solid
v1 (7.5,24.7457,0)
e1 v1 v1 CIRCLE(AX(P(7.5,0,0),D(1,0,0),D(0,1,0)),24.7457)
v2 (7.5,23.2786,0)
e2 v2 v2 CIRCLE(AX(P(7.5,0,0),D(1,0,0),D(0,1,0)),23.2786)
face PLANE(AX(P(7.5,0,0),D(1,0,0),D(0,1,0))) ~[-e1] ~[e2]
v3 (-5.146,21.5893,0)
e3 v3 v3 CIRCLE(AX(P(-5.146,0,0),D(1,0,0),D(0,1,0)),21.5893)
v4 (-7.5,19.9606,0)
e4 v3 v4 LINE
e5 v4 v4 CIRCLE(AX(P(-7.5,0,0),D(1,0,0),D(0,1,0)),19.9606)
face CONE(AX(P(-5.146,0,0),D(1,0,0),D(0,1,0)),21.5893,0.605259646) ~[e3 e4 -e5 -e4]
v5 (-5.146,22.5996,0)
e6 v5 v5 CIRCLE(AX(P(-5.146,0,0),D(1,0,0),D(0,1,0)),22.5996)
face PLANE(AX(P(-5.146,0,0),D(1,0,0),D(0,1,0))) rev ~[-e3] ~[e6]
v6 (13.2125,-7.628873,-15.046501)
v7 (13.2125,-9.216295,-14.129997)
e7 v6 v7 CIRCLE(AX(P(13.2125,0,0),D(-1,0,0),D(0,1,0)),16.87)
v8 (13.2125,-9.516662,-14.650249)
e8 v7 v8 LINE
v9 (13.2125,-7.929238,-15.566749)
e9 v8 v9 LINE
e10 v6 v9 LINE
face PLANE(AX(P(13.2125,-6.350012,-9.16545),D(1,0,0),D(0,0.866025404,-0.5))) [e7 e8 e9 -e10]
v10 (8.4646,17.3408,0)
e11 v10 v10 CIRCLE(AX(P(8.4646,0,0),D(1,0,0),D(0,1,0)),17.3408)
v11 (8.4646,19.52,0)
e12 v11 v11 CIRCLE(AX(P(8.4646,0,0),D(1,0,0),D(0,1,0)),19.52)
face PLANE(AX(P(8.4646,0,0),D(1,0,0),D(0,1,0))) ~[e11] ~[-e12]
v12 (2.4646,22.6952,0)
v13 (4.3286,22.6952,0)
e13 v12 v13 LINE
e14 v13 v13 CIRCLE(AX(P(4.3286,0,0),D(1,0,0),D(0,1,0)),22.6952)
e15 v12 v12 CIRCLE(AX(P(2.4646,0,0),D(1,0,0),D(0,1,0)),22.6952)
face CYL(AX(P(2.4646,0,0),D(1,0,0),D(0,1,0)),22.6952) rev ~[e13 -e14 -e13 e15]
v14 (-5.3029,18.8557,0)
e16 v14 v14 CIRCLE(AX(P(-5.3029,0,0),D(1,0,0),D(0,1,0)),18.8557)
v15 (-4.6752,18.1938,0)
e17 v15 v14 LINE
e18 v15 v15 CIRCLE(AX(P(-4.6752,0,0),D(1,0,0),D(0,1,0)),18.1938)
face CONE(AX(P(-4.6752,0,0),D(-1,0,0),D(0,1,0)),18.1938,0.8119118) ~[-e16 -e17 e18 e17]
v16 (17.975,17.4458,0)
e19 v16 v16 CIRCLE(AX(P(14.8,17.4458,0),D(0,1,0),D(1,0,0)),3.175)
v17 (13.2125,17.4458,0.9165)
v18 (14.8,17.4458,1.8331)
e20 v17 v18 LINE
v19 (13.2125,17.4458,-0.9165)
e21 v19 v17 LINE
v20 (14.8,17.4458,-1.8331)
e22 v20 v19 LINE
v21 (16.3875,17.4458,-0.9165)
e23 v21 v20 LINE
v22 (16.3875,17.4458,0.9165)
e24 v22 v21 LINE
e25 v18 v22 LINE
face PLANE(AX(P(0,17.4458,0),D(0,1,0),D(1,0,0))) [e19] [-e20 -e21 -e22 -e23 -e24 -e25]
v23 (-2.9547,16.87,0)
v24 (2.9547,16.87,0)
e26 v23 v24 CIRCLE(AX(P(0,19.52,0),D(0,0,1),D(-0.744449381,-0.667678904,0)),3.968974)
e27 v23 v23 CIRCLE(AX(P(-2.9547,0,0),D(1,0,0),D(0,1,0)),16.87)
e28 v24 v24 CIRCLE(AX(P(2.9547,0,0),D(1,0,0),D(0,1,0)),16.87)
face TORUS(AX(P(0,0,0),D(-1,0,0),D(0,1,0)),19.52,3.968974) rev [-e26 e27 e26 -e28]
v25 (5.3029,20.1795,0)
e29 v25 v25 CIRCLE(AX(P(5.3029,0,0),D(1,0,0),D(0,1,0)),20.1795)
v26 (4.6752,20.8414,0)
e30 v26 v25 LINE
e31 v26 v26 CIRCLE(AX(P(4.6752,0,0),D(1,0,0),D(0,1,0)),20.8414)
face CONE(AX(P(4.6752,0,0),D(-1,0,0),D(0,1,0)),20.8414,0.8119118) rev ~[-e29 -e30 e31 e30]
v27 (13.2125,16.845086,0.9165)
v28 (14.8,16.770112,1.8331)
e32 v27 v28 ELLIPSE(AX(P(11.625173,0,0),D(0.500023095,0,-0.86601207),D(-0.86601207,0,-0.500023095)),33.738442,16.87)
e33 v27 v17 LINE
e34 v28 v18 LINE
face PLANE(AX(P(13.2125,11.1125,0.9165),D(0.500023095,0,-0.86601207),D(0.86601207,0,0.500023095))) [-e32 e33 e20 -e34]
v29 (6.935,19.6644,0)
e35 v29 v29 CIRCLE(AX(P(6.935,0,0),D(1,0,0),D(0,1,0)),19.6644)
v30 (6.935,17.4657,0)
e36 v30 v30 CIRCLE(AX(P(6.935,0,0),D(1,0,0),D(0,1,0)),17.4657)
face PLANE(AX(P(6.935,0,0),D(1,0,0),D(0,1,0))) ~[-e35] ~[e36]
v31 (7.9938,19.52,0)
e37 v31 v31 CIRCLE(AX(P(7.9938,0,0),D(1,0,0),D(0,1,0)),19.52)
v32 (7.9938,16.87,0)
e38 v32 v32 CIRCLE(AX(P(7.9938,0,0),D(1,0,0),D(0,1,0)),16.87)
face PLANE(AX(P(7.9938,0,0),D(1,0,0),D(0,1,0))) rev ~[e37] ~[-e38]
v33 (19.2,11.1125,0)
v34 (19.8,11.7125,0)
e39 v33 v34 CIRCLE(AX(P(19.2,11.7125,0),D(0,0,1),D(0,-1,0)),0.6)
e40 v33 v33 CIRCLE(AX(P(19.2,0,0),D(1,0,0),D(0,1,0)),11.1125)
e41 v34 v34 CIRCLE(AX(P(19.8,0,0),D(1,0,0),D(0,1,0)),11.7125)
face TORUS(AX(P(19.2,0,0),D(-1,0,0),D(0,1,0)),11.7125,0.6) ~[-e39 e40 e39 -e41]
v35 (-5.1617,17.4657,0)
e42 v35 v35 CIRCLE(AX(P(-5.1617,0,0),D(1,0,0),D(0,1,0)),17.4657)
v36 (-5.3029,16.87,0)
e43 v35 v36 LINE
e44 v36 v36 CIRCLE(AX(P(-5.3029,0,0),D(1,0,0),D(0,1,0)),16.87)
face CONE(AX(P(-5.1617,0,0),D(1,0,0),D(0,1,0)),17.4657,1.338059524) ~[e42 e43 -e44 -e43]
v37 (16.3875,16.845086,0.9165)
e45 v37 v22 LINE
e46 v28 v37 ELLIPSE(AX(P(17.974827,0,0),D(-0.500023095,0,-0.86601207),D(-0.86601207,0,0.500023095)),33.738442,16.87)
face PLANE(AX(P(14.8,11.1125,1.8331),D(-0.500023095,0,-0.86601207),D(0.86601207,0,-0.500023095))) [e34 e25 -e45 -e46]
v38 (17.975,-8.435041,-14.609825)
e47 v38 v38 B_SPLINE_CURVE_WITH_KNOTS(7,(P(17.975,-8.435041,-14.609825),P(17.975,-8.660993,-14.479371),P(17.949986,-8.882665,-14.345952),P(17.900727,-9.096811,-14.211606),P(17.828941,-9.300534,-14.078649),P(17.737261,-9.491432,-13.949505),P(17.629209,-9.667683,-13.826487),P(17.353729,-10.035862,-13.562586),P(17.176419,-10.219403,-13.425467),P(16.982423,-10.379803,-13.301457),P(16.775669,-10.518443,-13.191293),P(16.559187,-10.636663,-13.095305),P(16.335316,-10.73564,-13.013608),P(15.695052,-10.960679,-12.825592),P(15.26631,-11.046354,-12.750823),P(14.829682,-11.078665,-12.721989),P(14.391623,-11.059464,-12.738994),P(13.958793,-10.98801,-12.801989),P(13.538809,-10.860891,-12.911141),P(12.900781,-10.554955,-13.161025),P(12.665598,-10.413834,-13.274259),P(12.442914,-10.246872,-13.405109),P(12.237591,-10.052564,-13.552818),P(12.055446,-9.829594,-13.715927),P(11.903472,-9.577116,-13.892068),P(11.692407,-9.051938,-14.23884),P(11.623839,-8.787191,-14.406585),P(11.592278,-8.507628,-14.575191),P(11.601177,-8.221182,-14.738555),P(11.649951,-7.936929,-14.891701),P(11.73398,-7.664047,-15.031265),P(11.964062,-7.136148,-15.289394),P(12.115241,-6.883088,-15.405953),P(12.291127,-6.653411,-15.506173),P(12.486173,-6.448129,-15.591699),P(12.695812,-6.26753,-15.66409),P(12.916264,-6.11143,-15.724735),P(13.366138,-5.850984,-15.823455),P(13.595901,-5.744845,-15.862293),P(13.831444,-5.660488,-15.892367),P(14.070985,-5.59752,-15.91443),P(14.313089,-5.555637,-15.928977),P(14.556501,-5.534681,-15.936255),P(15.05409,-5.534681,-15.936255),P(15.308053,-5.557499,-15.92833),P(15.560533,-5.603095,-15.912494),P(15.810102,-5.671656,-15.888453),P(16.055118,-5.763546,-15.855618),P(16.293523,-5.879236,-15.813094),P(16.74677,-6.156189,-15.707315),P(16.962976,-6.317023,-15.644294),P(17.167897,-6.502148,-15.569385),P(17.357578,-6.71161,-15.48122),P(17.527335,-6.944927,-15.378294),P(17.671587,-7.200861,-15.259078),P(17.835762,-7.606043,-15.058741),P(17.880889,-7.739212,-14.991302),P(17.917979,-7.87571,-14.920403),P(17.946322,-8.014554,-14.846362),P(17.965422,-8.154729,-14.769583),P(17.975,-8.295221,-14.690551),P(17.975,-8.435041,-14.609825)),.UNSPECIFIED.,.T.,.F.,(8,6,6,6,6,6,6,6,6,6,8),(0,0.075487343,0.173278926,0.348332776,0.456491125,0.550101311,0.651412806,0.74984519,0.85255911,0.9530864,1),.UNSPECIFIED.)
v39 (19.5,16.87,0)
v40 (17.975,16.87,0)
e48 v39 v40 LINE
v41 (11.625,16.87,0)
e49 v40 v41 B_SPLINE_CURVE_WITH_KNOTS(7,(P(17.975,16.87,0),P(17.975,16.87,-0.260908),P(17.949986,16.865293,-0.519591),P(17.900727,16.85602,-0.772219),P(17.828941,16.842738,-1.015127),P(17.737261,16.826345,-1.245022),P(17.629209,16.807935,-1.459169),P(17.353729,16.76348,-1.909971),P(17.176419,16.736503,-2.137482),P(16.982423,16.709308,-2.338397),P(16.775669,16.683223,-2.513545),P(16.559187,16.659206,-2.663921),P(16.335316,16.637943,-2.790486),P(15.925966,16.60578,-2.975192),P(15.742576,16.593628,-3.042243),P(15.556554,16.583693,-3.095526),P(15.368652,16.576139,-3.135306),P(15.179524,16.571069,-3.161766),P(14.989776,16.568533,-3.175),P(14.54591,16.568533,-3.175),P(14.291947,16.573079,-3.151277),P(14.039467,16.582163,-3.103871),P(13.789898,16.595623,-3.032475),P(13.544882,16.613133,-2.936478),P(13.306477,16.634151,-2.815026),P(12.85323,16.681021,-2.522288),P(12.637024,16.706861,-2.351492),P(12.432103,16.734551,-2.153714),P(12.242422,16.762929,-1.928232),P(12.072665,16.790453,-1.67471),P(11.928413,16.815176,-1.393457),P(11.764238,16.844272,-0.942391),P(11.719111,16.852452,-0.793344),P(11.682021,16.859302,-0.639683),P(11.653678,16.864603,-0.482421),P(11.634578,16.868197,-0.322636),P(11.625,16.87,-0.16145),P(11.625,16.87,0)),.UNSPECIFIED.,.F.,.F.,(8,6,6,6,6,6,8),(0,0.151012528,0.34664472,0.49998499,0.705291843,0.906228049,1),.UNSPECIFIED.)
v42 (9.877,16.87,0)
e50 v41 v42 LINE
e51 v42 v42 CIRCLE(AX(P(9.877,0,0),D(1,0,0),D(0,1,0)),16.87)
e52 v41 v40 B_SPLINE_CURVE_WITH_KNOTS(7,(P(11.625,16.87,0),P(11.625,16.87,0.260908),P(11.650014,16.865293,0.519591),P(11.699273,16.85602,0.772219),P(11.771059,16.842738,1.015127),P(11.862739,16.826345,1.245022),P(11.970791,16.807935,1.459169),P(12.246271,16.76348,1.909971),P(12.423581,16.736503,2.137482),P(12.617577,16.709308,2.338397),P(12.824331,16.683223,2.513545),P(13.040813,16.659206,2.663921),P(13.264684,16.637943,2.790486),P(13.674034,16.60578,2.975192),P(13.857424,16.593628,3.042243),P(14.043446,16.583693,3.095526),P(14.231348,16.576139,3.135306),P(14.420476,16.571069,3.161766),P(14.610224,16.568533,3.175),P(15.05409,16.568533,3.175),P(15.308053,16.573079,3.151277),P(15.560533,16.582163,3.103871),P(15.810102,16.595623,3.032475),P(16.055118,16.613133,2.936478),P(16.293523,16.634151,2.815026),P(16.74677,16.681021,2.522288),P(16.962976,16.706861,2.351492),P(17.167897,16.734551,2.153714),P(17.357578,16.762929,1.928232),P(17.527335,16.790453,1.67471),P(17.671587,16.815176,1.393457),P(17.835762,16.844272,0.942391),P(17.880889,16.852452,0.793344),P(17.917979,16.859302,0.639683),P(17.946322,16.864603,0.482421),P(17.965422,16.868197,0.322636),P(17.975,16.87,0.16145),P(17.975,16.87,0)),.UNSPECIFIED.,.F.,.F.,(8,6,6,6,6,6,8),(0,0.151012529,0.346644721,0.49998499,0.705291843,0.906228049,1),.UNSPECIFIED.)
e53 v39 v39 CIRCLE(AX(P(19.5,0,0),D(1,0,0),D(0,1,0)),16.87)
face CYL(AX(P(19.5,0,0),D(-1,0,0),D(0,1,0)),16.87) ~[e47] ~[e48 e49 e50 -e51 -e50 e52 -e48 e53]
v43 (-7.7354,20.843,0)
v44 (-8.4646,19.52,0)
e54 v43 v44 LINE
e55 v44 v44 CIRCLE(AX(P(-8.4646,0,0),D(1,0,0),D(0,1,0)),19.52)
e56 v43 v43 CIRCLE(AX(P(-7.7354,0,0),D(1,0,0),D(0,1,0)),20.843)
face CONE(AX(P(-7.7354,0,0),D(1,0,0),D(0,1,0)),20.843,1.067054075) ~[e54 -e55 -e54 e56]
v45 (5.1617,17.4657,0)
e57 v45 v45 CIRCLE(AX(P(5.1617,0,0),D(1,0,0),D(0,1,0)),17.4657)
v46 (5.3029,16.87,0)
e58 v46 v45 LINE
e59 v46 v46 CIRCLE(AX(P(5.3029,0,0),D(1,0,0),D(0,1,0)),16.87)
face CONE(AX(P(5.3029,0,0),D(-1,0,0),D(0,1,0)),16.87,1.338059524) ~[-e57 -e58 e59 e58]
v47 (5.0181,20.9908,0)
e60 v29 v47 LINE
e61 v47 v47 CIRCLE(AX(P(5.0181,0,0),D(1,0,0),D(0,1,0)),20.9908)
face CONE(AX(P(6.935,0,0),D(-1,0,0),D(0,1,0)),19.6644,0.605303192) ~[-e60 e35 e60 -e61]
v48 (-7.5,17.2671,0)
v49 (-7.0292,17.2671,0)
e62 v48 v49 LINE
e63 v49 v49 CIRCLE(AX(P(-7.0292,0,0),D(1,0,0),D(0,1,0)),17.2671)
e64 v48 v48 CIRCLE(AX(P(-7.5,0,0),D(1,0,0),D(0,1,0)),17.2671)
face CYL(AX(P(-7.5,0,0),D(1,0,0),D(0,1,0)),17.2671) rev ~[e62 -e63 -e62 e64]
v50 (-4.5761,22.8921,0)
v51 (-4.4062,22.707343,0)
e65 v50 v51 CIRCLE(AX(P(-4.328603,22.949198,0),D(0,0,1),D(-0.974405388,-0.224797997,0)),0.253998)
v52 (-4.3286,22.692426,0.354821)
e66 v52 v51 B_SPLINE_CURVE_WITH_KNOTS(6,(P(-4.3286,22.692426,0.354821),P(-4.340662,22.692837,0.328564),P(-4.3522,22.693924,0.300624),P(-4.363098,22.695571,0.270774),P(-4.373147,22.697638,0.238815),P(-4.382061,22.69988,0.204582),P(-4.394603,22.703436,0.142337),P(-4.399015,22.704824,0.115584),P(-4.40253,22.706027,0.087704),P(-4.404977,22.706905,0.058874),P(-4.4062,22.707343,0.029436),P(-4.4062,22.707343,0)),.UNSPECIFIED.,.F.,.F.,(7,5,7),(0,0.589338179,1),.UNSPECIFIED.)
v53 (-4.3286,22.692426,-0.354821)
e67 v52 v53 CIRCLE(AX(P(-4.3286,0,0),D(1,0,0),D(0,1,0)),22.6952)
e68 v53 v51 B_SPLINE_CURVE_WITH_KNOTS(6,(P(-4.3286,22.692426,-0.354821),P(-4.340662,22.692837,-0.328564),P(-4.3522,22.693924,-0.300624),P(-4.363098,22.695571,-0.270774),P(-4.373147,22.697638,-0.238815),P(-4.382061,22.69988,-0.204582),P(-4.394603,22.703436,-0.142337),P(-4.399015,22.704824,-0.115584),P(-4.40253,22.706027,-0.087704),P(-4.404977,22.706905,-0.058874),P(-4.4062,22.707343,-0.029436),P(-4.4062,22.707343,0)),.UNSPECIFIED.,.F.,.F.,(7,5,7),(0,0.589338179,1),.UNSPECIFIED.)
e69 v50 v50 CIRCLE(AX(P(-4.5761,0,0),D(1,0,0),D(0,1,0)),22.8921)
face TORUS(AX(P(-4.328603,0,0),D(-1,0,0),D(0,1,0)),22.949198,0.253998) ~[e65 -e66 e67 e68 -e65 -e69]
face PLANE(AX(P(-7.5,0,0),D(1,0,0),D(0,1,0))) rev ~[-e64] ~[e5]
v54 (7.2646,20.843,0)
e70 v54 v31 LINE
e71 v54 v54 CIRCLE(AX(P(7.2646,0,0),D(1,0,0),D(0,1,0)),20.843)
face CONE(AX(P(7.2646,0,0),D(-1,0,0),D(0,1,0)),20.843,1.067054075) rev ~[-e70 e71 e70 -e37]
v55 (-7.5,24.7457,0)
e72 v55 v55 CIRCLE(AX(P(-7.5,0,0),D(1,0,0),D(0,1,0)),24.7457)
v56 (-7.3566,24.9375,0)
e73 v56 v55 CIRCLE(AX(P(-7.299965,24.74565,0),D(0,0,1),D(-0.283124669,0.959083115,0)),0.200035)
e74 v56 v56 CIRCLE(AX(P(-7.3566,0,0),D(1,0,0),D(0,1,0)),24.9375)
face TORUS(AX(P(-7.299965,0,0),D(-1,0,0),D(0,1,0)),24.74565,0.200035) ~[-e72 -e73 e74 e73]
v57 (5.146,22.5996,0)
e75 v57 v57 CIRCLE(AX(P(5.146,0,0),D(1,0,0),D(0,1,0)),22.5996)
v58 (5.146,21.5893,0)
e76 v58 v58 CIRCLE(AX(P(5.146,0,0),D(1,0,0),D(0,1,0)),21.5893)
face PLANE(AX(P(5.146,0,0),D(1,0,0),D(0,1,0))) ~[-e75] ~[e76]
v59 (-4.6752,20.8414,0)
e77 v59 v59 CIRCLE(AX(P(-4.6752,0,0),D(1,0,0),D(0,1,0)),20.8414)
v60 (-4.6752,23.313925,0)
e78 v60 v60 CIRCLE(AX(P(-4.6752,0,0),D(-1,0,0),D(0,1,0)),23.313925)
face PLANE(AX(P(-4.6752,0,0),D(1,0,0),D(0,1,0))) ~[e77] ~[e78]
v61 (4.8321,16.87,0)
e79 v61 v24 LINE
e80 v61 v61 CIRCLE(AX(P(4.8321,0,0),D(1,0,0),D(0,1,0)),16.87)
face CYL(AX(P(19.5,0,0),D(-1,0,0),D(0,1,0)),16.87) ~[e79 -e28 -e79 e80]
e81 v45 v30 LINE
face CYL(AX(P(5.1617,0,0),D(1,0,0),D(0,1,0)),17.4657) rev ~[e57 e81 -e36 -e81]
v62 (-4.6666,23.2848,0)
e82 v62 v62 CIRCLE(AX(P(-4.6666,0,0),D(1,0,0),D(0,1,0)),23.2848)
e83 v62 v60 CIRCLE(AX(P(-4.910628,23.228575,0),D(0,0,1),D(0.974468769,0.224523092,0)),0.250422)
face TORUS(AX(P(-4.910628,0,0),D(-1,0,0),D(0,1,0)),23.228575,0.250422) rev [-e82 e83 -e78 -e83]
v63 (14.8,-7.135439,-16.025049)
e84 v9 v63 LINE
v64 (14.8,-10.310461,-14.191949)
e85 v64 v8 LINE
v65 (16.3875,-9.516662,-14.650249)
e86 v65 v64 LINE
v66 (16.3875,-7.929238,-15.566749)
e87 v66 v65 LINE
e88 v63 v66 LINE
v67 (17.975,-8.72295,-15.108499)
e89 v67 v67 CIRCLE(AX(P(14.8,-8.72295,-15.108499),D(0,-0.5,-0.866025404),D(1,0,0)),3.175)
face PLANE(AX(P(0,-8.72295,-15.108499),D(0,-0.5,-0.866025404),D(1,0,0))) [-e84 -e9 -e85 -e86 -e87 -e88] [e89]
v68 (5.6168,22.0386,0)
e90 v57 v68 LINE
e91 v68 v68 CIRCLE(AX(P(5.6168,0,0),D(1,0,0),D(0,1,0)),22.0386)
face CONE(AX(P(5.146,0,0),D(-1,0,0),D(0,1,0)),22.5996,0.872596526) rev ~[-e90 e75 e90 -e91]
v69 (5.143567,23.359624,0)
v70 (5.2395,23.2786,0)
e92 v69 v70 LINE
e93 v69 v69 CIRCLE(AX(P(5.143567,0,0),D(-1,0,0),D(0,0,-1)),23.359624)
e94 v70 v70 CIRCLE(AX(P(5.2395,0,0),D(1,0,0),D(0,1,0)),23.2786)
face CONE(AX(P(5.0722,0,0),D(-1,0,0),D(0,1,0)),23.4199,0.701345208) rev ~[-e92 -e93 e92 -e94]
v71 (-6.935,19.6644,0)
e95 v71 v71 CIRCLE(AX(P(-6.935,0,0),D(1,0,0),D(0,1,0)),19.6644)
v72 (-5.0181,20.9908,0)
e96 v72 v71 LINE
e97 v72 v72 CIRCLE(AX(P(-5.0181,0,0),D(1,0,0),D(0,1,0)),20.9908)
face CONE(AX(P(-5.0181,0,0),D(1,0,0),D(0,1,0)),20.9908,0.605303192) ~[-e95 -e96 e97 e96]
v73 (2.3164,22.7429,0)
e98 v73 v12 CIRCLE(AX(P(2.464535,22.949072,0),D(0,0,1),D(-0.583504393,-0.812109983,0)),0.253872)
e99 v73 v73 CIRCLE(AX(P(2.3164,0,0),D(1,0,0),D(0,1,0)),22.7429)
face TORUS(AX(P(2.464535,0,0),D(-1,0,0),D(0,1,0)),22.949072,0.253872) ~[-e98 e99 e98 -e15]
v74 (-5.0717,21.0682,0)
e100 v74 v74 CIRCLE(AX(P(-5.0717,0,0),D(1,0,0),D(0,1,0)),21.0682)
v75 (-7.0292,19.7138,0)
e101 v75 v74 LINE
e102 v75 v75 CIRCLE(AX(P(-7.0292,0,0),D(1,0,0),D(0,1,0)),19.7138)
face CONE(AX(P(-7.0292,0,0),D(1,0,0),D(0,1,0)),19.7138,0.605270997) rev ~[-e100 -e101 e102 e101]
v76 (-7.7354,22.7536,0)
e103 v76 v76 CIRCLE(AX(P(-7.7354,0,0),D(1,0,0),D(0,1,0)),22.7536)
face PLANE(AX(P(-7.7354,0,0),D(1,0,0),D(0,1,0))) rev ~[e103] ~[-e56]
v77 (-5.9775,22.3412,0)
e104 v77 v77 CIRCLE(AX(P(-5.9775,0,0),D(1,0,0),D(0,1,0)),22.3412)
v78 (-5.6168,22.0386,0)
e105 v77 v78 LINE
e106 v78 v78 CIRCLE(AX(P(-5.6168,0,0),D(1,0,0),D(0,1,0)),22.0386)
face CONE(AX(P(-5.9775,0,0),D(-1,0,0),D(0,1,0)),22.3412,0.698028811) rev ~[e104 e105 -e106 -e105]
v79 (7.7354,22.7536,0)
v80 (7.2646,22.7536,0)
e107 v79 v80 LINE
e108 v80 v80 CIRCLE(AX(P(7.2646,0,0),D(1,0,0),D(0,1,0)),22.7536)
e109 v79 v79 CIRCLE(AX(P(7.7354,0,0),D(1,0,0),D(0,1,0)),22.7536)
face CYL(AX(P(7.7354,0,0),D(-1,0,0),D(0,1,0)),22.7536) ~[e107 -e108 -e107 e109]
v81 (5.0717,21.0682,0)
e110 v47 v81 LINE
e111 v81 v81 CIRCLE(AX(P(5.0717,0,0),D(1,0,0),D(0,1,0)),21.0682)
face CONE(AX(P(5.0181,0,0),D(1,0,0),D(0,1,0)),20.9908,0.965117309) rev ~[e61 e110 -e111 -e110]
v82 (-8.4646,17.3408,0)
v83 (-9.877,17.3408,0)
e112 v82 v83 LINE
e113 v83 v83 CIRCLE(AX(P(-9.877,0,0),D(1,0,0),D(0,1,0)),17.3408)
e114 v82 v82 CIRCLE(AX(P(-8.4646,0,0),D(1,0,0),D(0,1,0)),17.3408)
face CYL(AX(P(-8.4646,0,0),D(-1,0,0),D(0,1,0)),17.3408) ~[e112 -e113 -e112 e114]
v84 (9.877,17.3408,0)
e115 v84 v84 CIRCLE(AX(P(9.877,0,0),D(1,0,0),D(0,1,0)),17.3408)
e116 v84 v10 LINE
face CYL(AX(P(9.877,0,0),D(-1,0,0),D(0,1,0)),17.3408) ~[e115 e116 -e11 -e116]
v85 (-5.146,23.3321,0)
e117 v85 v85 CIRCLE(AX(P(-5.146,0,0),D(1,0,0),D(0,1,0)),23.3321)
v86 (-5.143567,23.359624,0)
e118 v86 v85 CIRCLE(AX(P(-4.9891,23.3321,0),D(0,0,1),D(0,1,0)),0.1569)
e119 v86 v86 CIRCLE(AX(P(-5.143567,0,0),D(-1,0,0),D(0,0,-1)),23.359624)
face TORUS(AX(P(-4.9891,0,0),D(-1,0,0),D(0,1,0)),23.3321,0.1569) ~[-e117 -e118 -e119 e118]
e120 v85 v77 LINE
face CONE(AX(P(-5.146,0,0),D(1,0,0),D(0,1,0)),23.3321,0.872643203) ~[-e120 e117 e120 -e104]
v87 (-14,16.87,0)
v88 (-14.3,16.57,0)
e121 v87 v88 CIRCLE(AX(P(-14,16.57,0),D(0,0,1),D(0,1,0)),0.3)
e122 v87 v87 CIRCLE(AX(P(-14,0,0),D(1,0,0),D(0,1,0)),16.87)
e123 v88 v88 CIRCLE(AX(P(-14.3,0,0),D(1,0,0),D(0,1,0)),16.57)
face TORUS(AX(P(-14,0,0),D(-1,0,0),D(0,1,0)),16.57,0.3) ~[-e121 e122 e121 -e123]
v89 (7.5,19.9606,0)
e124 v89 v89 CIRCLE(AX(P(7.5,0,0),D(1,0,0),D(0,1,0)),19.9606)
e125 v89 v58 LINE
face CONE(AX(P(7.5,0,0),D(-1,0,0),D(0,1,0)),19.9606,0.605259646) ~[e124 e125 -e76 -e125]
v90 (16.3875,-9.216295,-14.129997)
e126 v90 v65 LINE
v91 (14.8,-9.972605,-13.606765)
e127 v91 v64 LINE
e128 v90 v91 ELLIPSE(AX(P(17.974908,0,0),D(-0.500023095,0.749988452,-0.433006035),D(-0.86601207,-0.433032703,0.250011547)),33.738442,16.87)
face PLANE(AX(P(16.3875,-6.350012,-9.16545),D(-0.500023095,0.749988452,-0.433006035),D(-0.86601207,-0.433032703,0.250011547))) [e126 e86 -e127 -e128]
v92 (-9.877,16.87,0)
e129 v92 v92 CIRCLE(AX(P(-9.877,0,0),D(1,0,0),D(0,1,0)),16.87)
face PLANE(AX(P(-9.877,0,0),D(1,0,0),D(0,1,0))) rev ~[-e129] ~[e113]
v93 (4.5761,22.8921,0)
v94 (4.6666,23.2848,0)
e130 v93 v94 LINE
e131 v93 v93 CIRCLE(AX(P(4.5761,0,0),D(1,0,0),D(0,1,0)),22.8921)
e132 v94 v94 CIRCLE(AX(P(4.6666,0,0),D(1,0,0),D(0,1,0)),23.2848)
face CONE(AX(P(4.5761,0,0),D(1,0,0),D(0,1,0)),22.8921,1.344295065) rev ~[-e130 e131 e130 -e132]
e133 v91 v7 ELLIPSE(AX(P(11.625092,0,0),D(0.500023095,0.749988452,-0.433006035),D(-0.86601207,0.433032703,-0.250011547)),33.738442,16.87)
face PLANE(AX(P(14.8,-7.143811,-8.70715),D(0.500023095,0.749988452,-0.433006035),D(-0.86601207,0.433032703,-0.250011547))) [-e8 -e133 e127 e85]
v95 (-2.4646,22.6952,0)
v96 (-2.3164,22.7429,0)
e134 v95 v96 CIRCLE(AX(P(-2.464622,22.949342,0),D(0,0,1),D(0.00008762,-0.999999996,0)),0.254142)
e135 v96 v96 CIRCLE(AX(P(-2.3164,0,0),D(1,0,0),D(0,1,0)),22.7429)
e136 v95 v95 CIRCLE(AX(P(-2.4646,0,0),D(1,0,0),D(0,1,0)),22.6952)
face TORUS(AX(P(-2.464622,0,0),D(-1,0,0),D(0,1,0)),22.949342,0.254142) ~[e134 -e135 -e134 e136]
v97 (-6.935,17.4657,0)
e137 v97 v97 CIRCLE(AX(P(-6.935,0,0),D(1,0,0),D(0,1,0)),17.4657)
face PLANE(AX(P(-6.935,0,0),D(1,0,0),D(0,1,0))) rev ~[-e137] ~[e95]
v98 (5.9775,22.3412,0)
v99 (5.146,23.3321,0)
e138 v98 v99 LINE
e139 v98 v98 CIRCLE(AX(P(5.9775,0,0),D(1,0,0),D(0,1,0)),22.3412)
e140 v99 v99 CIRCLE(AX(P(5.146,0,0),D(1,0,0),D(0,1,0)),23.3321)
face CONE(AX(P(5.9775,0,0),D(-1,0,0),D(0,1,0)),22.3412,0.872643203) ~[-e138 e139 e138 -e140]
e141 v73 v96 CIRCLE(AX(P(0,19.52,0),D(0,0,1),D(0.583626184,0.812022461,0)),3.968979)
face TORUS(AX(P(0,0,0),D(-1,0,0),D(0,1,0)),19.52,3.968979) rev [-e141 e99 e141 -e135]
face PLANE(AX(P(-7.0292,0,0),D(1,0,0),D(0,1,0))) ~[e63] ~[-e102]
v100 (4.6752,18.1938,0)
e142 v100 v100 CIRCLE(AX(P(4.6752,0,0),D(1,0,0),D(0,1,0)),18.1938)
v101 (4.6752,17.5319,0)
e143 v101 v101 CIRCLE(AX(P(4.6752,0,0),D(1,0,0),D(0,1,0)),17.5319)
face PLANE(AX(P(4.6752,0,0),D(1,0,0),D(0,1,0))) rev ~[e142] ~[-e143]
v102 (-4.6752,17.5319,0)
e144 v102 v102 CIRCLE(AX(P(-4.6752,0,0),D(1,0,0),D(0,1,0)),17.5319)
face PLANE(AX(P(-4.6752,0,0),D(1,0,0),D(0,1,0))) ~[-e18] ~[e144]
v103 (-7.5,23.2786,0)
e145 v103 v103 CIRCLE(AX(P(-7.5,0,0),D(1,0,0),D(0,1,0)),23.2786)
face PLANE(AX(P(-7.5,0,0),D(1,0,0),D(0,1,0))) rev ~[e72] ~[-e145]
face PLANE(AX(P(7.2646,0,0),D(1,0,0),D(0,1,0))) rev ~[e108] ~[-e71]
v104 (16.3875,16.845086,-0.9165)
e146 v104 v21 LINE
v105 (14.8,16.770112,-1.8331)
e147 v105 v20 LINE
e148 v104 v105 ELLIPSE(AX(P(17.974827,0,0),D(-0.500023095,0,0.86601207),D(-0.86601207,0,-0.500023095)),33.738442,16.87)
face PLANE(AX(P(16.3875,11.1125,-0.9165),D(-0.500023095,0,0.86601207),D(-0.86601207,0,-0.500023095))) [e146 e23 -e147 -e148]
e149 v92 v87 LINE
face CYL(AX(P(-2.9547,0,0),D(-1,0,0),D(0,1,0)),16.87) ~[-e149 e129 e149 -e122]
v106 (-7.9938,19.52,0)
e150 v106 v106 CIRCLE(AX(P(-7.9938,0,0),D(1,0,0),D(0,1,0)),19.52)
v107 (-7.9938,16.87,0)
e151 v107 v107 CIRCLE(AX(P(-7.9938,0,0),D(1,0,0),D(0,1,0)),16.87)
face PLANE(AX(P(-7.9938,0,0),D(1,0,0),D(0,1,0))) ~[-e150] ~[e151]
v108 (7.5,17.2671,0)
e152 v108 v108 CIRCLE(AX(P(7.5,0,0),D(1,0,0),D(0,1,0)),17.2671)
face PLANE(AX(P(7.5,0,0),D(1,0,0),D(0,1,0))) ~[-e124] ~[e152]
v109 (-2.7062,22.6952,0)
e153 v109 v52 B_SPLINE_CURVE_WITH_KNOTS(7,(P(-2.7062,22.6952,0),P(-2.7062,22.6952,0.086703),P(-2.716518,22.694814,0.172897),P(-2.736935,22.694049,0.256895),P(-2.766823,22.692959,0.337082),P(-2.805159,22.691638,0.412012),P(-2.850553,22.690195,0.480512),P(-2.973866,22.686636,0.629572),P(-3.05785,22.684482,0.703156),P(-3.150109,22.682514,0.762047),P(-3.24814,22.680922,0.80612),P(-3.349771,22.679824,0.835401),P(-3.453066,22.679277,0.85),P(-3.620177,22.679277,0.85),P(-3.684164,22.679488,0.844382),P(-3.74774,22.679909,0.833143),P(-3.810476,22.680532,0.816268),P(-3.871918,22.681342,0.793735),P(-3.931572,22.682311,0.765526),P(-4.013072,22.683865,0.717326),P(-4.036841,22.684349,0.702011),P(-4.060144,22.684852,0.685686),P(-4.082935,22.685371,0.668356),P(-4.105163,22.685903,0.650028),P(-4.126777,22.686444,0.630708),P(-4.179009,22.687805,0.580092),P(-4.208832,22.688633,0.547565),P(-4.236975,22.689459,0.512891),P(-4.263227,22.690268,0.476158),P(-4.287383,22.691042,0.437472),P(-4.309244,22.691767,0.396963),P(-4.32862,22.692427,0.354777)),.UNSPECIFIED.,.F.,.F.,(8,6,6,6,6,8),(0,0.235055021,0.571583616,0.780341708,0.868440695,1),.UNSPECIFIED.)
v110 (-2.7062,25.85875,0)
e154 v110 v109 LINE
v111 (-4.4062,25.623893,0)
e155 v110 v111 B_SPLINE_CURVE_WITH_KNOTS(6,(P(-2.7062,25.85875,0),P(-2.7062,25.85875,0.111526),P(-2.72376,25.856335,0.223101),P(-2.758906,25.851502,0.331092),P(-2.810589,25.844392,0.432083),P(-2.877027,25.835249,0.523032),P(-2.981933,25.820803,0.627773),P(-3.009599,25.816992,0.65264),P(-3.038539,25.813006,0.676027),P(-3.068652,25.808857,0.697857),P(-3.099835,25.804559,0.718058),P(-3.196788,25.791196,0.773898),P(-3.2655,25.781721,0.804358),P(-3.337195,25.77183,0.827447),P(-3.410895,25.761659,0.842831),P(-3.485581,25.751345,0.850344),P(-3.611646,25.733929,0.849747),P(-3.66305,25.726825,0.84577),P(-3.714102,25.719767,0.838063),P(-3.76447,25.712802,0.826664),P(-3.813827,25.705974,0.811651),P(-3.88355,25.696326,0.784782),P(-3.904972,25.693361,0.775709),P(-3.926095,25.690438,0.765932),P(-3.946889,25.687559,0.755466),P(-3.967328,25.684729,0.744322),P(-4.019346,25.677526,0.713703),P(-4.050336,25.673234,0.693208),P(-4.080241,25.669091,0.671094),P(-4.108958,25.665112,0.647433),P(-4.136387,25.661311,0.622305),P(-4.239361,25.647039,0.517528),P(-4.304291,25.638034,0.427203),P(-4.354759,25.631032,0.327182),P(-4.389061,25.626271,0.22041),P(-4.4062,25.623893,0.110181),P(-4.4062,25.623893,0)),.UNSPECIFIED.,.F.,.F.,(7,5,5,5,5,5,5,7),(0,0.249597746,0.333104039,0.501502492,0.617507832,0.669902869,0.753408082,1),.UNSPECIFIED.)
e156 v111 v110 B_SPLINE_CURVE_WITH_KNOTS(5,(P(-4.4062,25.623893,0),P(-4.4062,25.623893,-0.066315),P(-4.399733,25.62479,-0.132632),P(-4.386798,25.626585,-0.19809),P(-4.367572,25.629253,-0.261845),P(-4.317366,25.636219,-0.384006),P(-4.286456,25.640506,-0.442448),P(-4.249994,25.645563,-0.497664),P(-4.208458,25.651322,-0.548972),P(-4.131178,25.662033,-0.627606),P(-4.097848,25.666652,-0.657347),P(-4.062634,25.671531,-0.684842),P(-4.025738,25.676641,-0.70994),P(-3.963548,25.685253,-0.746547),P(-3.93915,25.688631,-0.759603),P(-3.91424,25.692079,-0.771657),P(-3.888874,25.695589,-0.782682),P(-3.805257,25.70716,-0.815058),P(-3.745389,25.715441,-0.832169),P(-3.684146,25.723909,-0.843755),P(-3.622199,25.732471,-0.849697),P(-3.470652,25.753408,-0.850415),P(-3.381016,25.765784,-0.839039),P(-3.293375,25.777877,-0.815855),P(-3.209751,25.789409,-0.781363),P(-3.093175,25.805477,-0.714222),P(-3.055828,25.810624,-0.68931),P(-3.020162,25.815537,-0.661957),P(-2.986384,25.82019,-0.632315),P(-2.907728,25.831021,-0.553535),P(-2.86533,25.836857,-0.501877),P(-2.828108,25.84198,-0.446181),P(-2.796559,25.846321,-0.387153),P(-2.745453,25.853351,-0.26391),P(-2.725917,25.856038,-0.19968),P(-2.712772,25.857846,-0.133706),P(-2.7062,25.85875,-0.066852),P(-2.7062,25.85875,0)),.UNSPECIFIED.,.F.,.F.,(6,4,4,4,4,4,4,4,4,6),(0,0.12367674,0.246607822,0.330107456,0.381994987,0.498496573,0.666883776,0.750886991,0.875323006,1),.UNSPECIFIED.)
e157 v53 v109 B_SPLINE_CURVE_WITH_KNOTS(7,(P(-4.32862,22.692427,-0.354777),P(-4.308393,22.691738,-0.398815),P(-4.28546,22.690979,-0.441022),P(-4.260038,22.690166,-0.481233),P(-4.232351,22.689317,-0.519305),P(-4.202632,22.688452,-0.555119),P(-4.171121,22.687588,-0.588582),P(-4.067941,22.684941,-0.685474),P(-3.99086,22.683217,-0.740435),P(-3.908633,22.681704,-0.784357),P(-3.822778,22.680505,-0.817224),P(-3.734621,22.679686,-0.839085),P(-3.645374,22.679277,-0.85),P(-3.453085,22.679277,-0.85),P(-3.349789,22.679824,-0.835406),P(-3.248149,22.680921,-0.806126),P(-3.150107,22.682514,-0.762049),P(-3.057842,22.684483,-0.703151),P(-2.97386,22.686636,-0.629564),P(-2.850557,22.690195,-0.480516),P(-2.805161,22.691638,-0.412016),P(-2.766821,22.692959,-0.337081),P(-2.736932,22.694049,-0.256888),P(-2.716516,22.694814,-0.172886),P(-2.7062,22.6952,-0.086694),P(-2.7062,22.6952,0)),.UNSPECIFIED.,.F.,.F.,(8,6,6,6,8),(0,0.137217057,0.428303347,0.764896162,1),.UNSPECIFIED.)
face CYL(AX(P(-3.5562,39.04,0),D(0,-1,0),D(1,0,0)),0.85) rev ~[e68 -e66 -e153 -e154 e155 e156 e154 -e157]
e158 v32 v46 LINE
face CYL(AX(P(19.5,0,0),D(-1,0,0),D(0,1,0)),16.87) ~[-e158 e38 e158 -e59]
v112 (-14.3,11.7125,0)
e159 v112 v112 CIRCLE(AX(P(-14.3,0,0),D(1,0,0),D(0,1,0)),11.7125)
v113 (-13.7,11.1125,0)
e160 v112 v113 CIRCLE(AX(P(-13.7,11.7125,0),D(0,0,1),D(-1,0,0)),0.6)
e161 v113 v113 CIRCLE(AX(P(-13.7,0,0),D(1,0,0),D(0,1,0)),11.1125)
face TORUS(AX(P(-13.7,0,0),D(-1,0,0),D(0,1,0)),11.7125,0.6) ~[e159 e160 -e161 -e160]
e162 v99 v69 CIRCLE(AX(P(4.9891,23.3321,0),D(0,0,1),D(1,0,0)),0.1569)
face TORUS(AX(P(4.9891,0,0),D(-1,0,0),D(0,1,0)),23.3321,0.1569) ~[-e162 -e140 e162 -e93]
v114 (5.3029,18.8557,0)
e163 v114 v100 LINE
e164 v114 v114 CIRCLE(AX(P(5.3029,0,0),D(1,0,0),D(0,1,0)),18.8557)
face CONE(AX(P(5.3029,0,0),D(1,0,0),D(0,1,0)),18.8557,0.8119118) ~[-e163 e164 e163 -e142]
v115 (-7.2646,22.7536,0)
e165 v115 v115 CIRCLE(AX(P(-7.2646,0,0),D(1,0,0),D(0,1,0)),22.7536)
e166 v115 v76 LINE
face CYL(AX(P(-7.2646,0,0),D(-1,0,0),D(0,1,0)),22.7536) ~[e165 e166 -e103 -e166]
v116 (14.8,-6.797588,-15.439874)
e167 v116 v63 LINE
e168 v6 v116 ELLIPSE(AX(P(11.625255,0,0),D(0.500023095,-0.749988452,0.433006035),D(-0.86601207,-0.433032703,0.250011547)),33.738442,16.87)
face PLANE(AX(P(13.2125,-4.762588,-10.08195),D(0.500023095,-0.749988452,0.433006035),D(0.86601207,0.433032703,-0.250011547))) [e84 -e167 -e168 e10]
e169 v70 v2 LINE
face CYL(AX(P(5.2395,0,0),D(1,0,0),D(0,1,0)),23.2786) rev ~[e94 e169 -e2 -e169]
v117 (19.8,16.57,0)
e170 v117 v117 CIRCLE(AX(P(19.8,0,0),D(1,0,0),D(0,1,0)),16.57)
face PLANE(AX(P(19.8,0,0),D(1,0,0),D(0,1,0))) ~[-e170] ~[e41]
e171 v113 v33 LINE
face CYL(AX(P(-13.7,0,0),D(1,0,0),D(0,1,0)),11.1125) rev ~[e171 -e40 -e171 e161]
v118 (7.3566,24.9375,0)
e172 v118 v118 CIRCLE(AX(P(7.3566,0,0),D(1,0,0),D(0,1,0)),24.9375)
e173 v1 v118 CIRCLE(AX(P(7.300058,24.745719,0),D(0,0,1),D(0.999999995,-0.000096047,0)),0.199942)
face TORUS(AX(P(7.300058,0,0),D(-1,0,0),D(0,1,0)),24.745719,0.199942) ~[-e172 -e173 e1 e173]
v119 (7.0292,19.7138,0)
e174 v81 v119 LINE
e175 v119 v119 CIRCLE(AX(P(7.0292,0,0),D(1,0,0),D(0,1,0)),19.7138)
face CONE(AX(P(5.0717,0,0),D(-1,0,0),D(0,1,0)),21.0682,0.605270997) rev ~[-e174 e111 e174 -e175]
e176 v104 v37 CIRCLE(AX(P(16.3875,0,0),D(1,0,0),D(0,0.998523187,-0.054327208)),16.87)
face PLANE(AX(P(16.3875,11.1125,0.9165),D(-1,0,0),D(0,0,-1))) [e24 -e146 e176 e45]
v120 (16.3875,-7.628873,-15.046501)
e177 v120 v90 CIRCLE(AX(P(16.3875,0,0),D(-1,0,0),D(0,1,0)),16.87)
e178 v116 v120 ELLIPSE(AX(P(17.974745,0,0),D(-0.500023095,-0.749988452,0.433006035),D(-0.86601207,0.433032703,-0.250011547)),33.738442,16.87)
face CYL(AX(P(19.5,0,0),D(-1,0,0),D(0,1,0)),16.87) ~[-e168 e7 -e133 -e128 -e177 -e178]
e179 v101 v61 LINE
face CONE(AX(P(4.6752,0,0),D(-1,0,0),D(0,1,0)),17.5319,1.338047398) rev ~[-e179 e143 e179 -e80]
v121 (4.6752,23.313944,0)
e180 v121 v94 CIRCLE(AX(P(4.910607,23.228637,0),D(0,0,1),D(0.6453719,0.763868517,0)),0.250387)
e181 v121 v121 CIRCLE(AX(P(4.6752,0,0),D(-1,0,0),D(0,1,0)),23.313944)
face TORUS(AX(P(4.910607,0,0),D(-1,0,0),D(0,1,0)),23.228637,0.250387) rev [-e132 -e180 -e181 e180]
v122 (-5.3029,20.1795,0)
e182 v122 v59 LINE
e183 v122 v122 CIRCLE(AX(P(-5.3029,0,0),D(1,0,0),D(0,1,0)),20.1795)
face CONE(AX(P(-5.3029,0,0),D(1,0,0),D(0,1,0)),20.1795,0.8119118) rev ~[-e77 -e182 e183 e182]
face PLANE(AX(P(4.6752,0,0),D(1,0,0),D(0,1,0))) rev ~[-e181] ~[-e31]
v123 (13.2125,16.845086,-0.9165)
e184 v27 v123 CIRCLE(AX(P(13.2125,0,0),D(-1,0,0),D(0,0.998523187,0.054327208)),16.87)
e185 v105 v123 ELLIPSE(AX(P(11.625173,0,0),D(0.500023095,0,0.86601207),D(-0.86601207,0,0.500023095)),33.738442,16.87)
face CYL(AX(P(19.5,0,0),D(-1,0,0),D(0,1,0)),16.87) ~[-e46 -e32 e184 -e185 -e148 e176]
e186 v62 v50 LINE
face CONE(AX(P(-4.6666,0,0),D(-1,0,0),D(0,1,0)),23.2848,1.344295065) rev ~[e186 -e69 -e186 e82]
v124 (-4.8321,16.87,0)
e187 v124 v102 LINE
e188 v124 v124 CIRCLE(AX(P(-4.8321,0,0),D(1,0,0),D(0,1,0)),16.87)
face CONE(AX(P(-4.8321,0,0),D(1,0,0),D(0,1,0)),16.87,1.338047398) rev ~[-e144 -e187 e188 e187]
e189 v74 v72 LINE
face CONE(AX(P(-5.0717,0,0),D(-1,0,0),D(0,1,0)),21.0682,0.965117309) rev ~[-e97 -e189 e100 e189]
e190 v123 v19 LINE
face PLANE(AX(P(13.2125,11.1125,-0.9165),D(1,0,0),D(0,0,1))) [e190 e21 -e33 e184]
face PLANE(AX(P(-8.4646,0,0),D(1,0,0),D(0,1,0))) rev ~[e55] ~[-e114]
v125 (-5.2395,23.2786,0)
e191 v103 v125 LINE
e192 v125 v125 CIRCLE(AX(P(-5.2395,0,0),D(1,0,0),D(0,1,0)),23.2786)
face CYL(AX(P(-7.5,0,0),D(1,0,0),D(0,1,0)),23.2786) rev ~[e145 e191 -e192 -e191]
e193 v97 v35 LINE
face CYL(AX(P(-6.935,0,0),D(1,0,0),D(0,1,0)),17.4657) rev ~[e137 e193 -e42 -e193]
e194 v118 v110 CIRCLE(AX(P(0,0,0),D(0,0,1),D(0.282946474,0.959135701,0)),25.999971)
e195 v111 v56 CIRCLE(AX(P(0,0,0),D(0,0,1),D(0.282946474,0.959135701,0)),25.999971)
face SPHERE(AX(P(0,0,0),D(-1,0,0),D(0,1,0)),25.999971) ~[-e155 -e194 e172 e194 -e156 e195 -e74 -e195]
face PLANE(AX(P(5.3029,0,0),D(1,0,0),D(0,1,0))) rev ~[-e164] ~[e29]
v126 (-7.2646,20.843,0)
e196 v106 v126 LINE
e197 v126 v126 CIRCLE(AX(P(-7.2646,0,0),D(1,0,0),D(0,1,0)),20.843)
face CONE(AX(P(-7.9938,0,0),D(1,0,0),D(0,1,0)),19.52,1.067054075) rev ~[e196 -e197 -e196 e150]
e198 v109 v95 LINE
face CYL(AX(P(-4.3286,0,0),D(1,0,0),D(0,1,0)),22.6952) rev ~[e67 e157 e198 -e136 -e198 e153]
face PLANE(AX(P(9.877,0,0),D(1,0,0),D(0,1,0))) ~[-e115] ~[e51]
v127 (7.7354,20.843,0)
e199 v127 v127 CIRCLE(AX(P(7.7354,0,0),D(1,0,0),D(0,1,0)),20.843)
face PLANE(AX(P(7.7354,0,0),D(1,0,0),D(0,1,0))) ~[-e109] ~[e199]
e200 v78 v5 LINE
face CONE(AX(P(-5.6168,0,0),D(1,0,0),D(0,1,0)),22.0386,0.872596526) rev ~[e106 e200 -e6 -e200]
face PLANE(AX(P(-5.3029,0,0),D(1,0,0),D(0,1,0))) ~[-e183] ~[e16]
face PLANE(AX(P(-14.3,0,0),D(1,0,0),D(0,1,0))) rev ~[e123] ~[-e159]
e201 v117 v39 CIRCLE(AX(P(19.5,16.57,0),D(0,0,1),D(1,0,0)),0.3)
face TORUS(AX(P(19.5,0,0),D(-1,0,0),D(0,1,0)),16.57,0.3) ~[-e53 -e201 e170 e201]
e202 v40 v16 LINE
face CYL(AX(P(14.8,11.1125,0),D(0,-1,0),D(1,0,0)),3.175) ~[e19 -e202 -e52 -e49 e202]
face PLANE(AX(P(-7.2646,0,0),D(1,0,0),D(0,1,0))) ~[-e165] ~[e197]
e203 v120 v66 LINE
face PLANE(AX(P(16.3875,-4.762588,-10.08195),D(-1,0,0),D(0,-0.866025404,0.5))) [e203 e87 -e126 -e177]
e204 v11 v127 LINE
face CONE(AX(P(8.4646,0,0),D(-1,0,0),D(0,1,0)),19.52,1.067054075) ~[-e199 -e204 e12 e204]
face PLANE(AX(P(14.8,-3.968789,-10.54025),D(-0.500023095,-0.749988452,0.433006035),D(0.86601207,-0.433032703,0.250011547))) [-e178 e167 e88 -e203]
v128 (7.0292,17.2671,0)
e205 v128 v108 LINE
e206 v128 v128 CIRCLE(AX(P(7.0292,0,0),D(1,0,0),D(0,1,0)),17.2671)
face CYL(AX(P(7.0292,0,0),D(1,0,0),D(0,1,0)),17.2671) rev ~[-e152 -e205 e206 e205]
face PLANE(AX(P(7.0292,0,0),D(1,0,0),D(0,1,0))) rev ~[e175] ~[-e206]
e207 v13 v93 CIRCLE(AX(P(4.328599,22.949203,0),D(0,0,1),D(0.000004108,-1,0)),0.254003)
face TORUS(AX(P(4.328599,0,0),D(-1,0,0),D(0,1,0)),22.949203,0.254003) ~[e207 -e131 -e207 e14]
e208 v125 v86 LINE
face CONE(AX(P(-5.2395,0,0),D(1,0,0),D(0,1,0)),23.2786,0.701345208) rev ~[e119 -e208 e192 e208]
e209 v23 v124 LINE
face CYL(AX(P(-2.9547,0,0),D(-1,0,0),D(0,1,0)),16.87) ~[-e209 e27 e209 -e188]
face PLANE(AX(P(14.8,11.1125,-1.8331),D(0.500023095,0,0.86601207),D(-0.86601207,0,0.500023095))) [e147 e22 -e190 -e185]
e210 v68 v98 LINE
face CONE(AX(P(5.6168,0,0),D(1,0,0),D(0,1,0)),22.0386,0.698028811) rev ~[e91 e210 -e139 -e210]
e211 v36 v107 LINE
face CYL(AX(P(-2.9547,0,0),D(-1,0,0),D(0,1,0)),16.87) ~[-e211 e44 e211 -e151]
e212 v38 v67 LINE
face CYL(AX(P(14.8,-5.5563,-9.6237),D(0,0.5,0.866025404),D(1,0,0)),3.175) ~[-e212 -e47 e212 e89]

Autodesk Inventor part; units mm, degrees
sketch "Sketch_1" plane through (0, 0, 0) normal (0, 0, 1) x (1, 0, 0)
  line L0 (50, 0) -> (-50, 0)
  line L1 (-14.3, 16.57) -> (-14.3, 11.7125)
  arc A0 (-14.3, 11.7125) -> (-13.7, 11.1125) centre (-13.7, 11.7125) ccw
  line L2 (-13.7, 11.1125) -> (19.2, 11.1125)
  arc A1 (19.2, 11.1125) -> (19.8, 11.7125) centre (19.2, 11.7125) ccw
  line L3 (19.8, 11.7125) -> (19.8, 16.57)
  arc A2 (19.8, 16.57) -> (19.5, 16.87) centre (19.5, 16.57) ccw
  line L4 (19.5, 16.87) -> (2.9547, 16.87)
  arc A3 (-2.9547, 16.87) -> (2.9547, 16.87) centre (0, 19.52) ccw
  line L5 (-2.9547, 16.87) -> (-14, 16.87)
  arc A4 (-14, 16.87) -> (-14.3, 16.57) centre (-14, 16.57) ccw
revolve "Revolution1" add sketch "Sketch_1" angle 360 about axis through (50, 0, 0) along (1, 0, 0)
sketch "Sketch_2" plane through (0, 11.1125, 0) normal (0, 1, 0) x (1, 0, 0)
  circle A0 centre (14.8, 0) radius 3.175
  line L0 (13.2125, -0.9165) -> (14.8, -1.8331)
  line L1 (14.8, -1.8331) -> (16.3875, -0.9165)
  line L2 (16.3875, -0.9165) -> (16.3875, 0.9165)
  line L3 (16.3875, 0.9165) -> (14.8, 1.8331)
  line L4 (14.8, 1.8331) -> (13.2125, 0.9165)
  line L5 (13.2125, 0.9165) -> (13.2125, -0.9165)
extrude "Extrusion1" add sketch "Sketch_2" along normal blind 6.3333
sketch "Sketch_3" plane through (0, -5.5563, -9.6237) normal (0, -0.5, -0.866) x (1, 0, 0)
  circle A0 centre (14.8, 0) radius 3.175
  line L0 (13.2125, -0.9165) -> (14.8, -1.8331)
  line L1 (14.8, -1.8331) -> (16.3875, -0.9165)
  line L2 (16.3875, -0.9165) -> (16.3875, 0.9165)
  line L3 (16.3875, 0.9165) -> (14.8, 1.8331)
  line L4 (14.8, 1.8331) -> (13.2125, 0.9165)
  line L5 (13.2125, 0.9165) -> (13.2125, -0.9165)
extrude "Extrusion2" add sketch "Sketch_3" along normal blind 6.3333
sketch "Sketch_4" plane through (0, 0, 0) normal (0, 0, 1) x (1, 0, 0)
  line L0 (7.5, 0) -> (-7.5, 0)
  line L1 (-9.877, 17.3408) -> (-9.877, 16.87)
  line L2 (-9.877, 16.87) -> (-7.9938, 16.87)
  line L3 (-7.9938, 16.87) -> (-7.9938, 19.52)
  line L4 (-7.9938, 19.52) -> (-7.2646, 20.843)
  line L5 (-7.2646, 20.843) -> (-7.2646, 22.7536)
  line L6 (-7.2646, 22.7536) -> (-7.7354, 22.7536)
  line L7 (-7.7354, 22.7536) -> (-7.7354, 20.843)
  line L8 (-7.7354, 20.843) -> (-8.4646, 19.52)
  line L9 (-8.4646, 19.52) -> (-8.4646, 17.3408)
  line L10 (-8.4646, 17.3408) -> (-9.877, 17.3408)
revolve "Revolution2" add sketch "Sketch_4" angle 360 about axis through (7.5, 0, 0) along (1, 0, 0)
sketch "Sketch_5" plane through (0, 0, 0) normal (0, 0, 1) x (1, 0, 0)
  line L0 (7.5, 0) -> (-7.5, 0)
  line L1 (7.2646, 22.7536) -> (7.2646, 20.843)
  line L2 (7.2646, 20.843) -> (7.9938, 19.52)
  line L3 (7.9938, 19.52) -> (7.9938, 16.87)
  line L4 (7.9938, 16.87) -> (9.877, 16.87)
  line L5 (9.877, 16.87) -> (9.877, 17.3408)
  line L6 (9.877, 17.3408) -> (8.4646, 17.3408)
  line L7 (8.4646, 17.3408) -> (8.4646, 19.52)
  line L8 (8.4646, 19.52) -> (7.7354, 20.843)
  line L9 (7.7354, 20.843) -> (7.7354, 22.7536)
  line L10 (7.7354, 22.7536) -> (7.2646, 22.7536)
revolve "Revolution3" add sketch "Sketch_5" angle 360 about axis through (7.5, 0, 0) along (1, 0, 0)
sketch "Sketch_6" plane through (0, 0, 0) normal (0, 0, 1) x (1, 0, 0)
  line L0 (50, 0) -> (-50, 0)
  line L1 (-7.5, 19.9606) -> (-7.5, 17.2671)
  line L2 (-7.5, 17.2671) -> (-7.0292, 17.2671)
  line L3 (-7.0292, 17.2671) -> (-7.0292, 19.7138)
  line L4 (-7.0292, 19.7138) -> (-5.0717, 21.0682)
  line L5 (-5.0717, 21.0682) -> (-5.0181, 20.9908)
  line L6 (-5.0181, 20.9908) -> (-6.935, 19.6644)
  line L7 (-6.935, 19.6644) -> (-6.935, 17.4657)
  line L8 (-6.935, 17.4657) -> (-5.1617, 17.4657)
  line L9 (-5.1617, 17.4657) -> (-5.3029, 16.87)
  line L10 (-5.3029, 16.87) -> (-4.8321, 16.87)
  line L11 (-4.8321, 16.87) -> (-4.6752, 17.5319)
  line L12 (-4.6752, 17.5319) -> (-4.6752, 18.1938)
  line L13 (-4.6752, 18.1938) -> (-5.3029, 18.8557)
  line L14 (-5.3029, 18.8557) -> (-5.3029, 20.1795)
  line L15 (-5.3029, 20.1795) -> (-4.6752, 20.8414)
  line L16 (-4.6752, 20.8414) -> (-4.6752, 23.3321)
  arc A0 (-4.6752, 23.3321) -> (-4.8321, 23.489) centre (-4.8321, 23.3321) ccw
  line L17 (-4.8321, 23.489) -> (-4.9891, 23.489)
  arc A1 (-4.9891, 23.489) -> (-5.146, 23.3321) centre (-4.9891, 23.3321) ccw
  line L18 (-5.146, 23.3321) -> (-5.9775, 22.3412)
  line L19 (-5.9775, 22.3412) -> (-5.6168, 22.0386)
  line L20 (-5.6168, 22.0386) -> (-5.146, 22.5996)
  line L21 (-5.146, 22.5996) -> (-5.146, 21.5893)
  line L22 (-5.146, 21.5893) -> (-7.5, 19.9606)
revolve "Revolution4" add sketch "Sketch_6" angle 360 about axis through (50, 0, 0) along (1, 0, 0)
sketch "Sketch_11" plane through (0, 0, 0) normal (0, 0, 1) x (1, 0, 0)
  line L0 (50, 0) -> (-50, 0)
  line L1 (4.6752, 23.3321) -> (4.6752, 20.8414)
  line L2 (4.6752, 20.8414) -> (5.3029, 20.1795)
  line L3 (5.3029, 20.1795) -> (5.3029, 18.8557)
  line L4 (5.3029, 18.8557) -> (4.6752, 18.1938)
  line L5 (4.6752, 18.1938) -> (4.6752, 17.5319)
  line L6 (4.6752, 17.5319) -> (4.8321, 16.87)
  line L7 (4.8321, 16.87) -> (5.3029, 16.87)
  line L8 (5.3029, 16.87) -> (5.1617, 17.4657)
  line L9 (5.1617, 17.4657) -> (6.935, 17.4657)
  line L10 (6.935, 17.4657) -> (6.935, 19.6644)
  line L11 (6.935, 19.6644) -> (5.0181, 20.9908)
  line L12 (5.0181, 20.9908) -> (5.0717, 21.0682)
  line L13 (5.0717, 21.0682) -> (7.0292, 19.7138)
  line L14 (7.0292, 19.7138) -> (7.0292, 17.2671)
  line L15 (7.0292, 17.2671) -> (7.5, 17.2671)
  line L16 (7.5, 17.2671) -> (7.5, 19.9606)
  line L17 (7.5, 19.9606) -> (5.146, 21.5893)
  line L18 (5.146, 21.5893) -> (5.146, 22.5996)
  line L19 (5.146, 22.5996) -> (5.6168, 22.0386)
  line L20 (5.6168, 22.0386) -> (5.9775, 22.3412)
  line L21 (5.9775, 22.3412) -> (5.146, 23.3321)
  arc A0 (5.146, 23.3321) -> (4.9891, 23.489) centre (4.9891, 23.3321) ccw
  line L22 (4.9891, 23.489) -> (4.8321, 23.489)
  arc A1 (4.8321, 23.489) -> (4.6752, 23.3321) centre (4.8321, 23.3321) ccw
revolve "Revolution5" add sketch "Sketch_11" angle 360 about axis through (50, 0, 0) along (1, 0, 0)
sketch "Sketch_16" plane through (0, 0, 0) normal (0, 0, 1) x (1, 0, 0)
  line L0 (7.5, 0) -> (-7.5, 0)
  line L1 (-7.5, 23.2786) -> (-5.2395, 23.2786)
  line L2 (-5.2395, 23.2786) -> (-5.0722, 23.4199)
  arc A0 (-4.6666, 23.2848) -> (-5.0722, 23.4199) centre (-4.9106, 23.2286) ccw
  line L3 (-4.6666, 23.2848) -> (-4.5761, 22.8921)
  arc A1 (-4.5761, 22.8921) -> (-4.3286, 22.6952) centre (-4.3286, 22.9492) ccw
  line L4 (-4.3286, 22.6952) -> (-2.4646, 22.6952)
  arc A2 (-2.4646, 22.6952) -> (-2.3164, 22.7429) centre (-2.4646, 22.9492) ccw
  arc A3 (2.3164, 22.7429) -> (-2.3164, 22.7429) centre (0, 19.52) ccw
  arc A4 (2.3164, 22.7429) -> (2.4646, 22.6952) centre (2.4646, 22.9492) ccw
  line L5 (2.4646, 22.6952) -> (4.3286, 22.6952)
  arc A5 (4.3286, 22.6952) -> (4.5761, 22.8921) centre (4.3286, 22.9492) ccw
  line L6 (4.5761, 22.8921) -> (4.6666, 23.2848)
  arc A6 (5.0722, 23.4199) -> (4.6666, 23.2848) centre (4.9106, 23.2286) ccw
  line L7 (5.0722, 23.4199) -> (5.2395, 23.2786)
  line L8 (5.2395, 23.2786) -> (7.5, 23.2786)
  line L9 (7.5, 23.2786) -> (7.5, 24.7457)
  arc A7 (7.5, 24.7457) -> (7.3566, 24.9375) centre (7.3, 24.7457) ccw
  arc A8 (7.3566, 24.9375) -> (-7.3566, 24.9375) centre (0, 0) ccw
  arc A9 (-7.3566, 24.9375) -> (-7.5, 24.7457) centre (-7.3, 24.7457) ccw
  line L10 (-7.5, 24.7457) -> (-7.5, 23.2786)
revolve "Revolution6" add sketch "Sketch_16" angle 360 about axis through (7.5, 0, 0) along (1, 0, 0)
sketch "Sketch_21" plane through (0, 0, 0) normal (0, 0, 1) x (1, 0, 0)
  line L0 (-3.5562, 19.52) -> (-3.5562, 39.04)
  line L1 (-3.5562, 39.04) -> (-2.7062, 39.04)
  line L2 (-2.7062, 39.04) -> (-2.7062, 19.52)
  line L3 (-2.7062, 19.52) -> (-3.5562, 19.52)
  line L4 (-3.5562, 19.52) -> (-3.5562, 39.04)
revolve "Revolution7" cut sketch "Sketch_21" angle 360 about axis through (-3.5562, 19.52, 0) along (0, -1, 0)
ref_plane "ball_1_XY" through (0, 19.52, 0) normal (1, 0, 0) x (0, 0, -1)
ref_plane "ball_1_YZ" through (0, 19.52, 0) normal (0, 0, -1) x (0, 1, 0)
ref_plane "ball_1_ZX" through (0, 19.52, 0) normal (0, 1, 0) x (1, 0, 0)
ref_plane "ball_2_XY" through (0, 14.9532, 12.5472) normal (1, 0, 0) x (0, 0, -1)
ref_plane "ball_2_YZ" through (0, 14.9532, 12.5472) normal (0, 0, -1) x (0, 1, 0)
ref_plane "ball_2_ZX" through (0, 14.9532, 12.5472) normal (0, 1, 0) x (1, 0, 0)
ref_plane "ball_3_XY" through (0, 3.3896, 19.2234) normal (1, 0, 0) x (0, 0, -1)
ref_plane "ball_3_YZ" through (0, 3.3896, 19.2234) normal (0, 0, -1) x (0, 1, 0)
ref_plane "ball_3_ZX" through (0, 3.3896, 19.2234) normal (0, 1, 0) x (1, 0, 0)
ref_plane "ball_4_XY" through (0, -9.76, 16.9048) normal (1, 0, 0) x (0, 0, -1)
ref_plane "ball_4_YZ" through (0, -9.76, 16.9048) normal (0, 0, -1) x (0, 1, 0)
ref_plane "ball_4_ZX" through (0, -9.76, 16.9048) normal (0, 1, 0) x (1, 0, 0)
ref_plane "ball_5_XY" through (0, -18.3428, 6.6762) normal (1, 0, 0) x (0, 0, -1)
ref_plane "ball_5_YZ" through (0, -18.3428, 6.6762) normal (0, 0, -1) x (0, 1, 0)
ref_plane "ball_5_ZX" through (0, -18.3428, 6.6762) normal (0, 1, 0) x (1, 0, 0)
ref_plane "ball_6_XY" through (0, -18.3428, -6.6762) normal (1, 0, 0) x (0, 0, -1)
ref_plane "ball_6_YZ" through (0, -18.3428, -6.6762) normal (0, 0, -1) x (0, 1, 0)
ref_plane "ball_6_ZX" through (0, -18.3428, -6.6762) normal (0, 1, 0) x (1, 0, 0)
ref_plane "ball_7_XY" through (0, -9.76, -16.9048) normal (1, 0, 0) x (0, 0, -1)
ref_plane "ball_7_YZ" through (0, -9.76, -16.9048) normal (0, 0, -1) x (0, 1, 0)
ref_plane "ball_7_ZX" through (0, -9.76, -16.9048) normal (0, 1, 0) x (1, 0, 0)
ref_plane "ball_8_XY" through (0, 3.3896, -19.2234) normal (1, 0, 0) x (0, 0, -1)
ref_plane "ball_8_YZ" through (0, 3.3896, -19.2234) normal (0, 0, -1) x (0, 1, 0)
ref_plane "ball_8_ZX" through (0, 3.3896, -19.2234) normal (0, 1, 0) x (1, 0, 0)
ref_plane "ball_9_XY" through (0, 14.9532, -12.5472) normal (1, 0, 0) x (0, 0, -1)
ref_plane "ball_9_YZ" through (0, 14.9532, -12.5472) normal (0, 0, -1) x (0, 1, 0)
ref_plane "ball_9_ZX" through (0, 14.9532, -12.5472) normal (0, 1, 0) x (1, 0, 0)
ref_plane "brg_XY" through (0, 0, 0) normal (1, 0, 0) x (0, 0, -1)
ref_plane "brg_YZ" through (0, 0, 0) normal (0, 0, -1) x (0, 1, 0)
ref_plane "brg_ZX" through (0, 0, 0) normal (0, 1, 0) x (1, 0, 0)
properties part number "YAR 205-014-2F-33.740-b"
